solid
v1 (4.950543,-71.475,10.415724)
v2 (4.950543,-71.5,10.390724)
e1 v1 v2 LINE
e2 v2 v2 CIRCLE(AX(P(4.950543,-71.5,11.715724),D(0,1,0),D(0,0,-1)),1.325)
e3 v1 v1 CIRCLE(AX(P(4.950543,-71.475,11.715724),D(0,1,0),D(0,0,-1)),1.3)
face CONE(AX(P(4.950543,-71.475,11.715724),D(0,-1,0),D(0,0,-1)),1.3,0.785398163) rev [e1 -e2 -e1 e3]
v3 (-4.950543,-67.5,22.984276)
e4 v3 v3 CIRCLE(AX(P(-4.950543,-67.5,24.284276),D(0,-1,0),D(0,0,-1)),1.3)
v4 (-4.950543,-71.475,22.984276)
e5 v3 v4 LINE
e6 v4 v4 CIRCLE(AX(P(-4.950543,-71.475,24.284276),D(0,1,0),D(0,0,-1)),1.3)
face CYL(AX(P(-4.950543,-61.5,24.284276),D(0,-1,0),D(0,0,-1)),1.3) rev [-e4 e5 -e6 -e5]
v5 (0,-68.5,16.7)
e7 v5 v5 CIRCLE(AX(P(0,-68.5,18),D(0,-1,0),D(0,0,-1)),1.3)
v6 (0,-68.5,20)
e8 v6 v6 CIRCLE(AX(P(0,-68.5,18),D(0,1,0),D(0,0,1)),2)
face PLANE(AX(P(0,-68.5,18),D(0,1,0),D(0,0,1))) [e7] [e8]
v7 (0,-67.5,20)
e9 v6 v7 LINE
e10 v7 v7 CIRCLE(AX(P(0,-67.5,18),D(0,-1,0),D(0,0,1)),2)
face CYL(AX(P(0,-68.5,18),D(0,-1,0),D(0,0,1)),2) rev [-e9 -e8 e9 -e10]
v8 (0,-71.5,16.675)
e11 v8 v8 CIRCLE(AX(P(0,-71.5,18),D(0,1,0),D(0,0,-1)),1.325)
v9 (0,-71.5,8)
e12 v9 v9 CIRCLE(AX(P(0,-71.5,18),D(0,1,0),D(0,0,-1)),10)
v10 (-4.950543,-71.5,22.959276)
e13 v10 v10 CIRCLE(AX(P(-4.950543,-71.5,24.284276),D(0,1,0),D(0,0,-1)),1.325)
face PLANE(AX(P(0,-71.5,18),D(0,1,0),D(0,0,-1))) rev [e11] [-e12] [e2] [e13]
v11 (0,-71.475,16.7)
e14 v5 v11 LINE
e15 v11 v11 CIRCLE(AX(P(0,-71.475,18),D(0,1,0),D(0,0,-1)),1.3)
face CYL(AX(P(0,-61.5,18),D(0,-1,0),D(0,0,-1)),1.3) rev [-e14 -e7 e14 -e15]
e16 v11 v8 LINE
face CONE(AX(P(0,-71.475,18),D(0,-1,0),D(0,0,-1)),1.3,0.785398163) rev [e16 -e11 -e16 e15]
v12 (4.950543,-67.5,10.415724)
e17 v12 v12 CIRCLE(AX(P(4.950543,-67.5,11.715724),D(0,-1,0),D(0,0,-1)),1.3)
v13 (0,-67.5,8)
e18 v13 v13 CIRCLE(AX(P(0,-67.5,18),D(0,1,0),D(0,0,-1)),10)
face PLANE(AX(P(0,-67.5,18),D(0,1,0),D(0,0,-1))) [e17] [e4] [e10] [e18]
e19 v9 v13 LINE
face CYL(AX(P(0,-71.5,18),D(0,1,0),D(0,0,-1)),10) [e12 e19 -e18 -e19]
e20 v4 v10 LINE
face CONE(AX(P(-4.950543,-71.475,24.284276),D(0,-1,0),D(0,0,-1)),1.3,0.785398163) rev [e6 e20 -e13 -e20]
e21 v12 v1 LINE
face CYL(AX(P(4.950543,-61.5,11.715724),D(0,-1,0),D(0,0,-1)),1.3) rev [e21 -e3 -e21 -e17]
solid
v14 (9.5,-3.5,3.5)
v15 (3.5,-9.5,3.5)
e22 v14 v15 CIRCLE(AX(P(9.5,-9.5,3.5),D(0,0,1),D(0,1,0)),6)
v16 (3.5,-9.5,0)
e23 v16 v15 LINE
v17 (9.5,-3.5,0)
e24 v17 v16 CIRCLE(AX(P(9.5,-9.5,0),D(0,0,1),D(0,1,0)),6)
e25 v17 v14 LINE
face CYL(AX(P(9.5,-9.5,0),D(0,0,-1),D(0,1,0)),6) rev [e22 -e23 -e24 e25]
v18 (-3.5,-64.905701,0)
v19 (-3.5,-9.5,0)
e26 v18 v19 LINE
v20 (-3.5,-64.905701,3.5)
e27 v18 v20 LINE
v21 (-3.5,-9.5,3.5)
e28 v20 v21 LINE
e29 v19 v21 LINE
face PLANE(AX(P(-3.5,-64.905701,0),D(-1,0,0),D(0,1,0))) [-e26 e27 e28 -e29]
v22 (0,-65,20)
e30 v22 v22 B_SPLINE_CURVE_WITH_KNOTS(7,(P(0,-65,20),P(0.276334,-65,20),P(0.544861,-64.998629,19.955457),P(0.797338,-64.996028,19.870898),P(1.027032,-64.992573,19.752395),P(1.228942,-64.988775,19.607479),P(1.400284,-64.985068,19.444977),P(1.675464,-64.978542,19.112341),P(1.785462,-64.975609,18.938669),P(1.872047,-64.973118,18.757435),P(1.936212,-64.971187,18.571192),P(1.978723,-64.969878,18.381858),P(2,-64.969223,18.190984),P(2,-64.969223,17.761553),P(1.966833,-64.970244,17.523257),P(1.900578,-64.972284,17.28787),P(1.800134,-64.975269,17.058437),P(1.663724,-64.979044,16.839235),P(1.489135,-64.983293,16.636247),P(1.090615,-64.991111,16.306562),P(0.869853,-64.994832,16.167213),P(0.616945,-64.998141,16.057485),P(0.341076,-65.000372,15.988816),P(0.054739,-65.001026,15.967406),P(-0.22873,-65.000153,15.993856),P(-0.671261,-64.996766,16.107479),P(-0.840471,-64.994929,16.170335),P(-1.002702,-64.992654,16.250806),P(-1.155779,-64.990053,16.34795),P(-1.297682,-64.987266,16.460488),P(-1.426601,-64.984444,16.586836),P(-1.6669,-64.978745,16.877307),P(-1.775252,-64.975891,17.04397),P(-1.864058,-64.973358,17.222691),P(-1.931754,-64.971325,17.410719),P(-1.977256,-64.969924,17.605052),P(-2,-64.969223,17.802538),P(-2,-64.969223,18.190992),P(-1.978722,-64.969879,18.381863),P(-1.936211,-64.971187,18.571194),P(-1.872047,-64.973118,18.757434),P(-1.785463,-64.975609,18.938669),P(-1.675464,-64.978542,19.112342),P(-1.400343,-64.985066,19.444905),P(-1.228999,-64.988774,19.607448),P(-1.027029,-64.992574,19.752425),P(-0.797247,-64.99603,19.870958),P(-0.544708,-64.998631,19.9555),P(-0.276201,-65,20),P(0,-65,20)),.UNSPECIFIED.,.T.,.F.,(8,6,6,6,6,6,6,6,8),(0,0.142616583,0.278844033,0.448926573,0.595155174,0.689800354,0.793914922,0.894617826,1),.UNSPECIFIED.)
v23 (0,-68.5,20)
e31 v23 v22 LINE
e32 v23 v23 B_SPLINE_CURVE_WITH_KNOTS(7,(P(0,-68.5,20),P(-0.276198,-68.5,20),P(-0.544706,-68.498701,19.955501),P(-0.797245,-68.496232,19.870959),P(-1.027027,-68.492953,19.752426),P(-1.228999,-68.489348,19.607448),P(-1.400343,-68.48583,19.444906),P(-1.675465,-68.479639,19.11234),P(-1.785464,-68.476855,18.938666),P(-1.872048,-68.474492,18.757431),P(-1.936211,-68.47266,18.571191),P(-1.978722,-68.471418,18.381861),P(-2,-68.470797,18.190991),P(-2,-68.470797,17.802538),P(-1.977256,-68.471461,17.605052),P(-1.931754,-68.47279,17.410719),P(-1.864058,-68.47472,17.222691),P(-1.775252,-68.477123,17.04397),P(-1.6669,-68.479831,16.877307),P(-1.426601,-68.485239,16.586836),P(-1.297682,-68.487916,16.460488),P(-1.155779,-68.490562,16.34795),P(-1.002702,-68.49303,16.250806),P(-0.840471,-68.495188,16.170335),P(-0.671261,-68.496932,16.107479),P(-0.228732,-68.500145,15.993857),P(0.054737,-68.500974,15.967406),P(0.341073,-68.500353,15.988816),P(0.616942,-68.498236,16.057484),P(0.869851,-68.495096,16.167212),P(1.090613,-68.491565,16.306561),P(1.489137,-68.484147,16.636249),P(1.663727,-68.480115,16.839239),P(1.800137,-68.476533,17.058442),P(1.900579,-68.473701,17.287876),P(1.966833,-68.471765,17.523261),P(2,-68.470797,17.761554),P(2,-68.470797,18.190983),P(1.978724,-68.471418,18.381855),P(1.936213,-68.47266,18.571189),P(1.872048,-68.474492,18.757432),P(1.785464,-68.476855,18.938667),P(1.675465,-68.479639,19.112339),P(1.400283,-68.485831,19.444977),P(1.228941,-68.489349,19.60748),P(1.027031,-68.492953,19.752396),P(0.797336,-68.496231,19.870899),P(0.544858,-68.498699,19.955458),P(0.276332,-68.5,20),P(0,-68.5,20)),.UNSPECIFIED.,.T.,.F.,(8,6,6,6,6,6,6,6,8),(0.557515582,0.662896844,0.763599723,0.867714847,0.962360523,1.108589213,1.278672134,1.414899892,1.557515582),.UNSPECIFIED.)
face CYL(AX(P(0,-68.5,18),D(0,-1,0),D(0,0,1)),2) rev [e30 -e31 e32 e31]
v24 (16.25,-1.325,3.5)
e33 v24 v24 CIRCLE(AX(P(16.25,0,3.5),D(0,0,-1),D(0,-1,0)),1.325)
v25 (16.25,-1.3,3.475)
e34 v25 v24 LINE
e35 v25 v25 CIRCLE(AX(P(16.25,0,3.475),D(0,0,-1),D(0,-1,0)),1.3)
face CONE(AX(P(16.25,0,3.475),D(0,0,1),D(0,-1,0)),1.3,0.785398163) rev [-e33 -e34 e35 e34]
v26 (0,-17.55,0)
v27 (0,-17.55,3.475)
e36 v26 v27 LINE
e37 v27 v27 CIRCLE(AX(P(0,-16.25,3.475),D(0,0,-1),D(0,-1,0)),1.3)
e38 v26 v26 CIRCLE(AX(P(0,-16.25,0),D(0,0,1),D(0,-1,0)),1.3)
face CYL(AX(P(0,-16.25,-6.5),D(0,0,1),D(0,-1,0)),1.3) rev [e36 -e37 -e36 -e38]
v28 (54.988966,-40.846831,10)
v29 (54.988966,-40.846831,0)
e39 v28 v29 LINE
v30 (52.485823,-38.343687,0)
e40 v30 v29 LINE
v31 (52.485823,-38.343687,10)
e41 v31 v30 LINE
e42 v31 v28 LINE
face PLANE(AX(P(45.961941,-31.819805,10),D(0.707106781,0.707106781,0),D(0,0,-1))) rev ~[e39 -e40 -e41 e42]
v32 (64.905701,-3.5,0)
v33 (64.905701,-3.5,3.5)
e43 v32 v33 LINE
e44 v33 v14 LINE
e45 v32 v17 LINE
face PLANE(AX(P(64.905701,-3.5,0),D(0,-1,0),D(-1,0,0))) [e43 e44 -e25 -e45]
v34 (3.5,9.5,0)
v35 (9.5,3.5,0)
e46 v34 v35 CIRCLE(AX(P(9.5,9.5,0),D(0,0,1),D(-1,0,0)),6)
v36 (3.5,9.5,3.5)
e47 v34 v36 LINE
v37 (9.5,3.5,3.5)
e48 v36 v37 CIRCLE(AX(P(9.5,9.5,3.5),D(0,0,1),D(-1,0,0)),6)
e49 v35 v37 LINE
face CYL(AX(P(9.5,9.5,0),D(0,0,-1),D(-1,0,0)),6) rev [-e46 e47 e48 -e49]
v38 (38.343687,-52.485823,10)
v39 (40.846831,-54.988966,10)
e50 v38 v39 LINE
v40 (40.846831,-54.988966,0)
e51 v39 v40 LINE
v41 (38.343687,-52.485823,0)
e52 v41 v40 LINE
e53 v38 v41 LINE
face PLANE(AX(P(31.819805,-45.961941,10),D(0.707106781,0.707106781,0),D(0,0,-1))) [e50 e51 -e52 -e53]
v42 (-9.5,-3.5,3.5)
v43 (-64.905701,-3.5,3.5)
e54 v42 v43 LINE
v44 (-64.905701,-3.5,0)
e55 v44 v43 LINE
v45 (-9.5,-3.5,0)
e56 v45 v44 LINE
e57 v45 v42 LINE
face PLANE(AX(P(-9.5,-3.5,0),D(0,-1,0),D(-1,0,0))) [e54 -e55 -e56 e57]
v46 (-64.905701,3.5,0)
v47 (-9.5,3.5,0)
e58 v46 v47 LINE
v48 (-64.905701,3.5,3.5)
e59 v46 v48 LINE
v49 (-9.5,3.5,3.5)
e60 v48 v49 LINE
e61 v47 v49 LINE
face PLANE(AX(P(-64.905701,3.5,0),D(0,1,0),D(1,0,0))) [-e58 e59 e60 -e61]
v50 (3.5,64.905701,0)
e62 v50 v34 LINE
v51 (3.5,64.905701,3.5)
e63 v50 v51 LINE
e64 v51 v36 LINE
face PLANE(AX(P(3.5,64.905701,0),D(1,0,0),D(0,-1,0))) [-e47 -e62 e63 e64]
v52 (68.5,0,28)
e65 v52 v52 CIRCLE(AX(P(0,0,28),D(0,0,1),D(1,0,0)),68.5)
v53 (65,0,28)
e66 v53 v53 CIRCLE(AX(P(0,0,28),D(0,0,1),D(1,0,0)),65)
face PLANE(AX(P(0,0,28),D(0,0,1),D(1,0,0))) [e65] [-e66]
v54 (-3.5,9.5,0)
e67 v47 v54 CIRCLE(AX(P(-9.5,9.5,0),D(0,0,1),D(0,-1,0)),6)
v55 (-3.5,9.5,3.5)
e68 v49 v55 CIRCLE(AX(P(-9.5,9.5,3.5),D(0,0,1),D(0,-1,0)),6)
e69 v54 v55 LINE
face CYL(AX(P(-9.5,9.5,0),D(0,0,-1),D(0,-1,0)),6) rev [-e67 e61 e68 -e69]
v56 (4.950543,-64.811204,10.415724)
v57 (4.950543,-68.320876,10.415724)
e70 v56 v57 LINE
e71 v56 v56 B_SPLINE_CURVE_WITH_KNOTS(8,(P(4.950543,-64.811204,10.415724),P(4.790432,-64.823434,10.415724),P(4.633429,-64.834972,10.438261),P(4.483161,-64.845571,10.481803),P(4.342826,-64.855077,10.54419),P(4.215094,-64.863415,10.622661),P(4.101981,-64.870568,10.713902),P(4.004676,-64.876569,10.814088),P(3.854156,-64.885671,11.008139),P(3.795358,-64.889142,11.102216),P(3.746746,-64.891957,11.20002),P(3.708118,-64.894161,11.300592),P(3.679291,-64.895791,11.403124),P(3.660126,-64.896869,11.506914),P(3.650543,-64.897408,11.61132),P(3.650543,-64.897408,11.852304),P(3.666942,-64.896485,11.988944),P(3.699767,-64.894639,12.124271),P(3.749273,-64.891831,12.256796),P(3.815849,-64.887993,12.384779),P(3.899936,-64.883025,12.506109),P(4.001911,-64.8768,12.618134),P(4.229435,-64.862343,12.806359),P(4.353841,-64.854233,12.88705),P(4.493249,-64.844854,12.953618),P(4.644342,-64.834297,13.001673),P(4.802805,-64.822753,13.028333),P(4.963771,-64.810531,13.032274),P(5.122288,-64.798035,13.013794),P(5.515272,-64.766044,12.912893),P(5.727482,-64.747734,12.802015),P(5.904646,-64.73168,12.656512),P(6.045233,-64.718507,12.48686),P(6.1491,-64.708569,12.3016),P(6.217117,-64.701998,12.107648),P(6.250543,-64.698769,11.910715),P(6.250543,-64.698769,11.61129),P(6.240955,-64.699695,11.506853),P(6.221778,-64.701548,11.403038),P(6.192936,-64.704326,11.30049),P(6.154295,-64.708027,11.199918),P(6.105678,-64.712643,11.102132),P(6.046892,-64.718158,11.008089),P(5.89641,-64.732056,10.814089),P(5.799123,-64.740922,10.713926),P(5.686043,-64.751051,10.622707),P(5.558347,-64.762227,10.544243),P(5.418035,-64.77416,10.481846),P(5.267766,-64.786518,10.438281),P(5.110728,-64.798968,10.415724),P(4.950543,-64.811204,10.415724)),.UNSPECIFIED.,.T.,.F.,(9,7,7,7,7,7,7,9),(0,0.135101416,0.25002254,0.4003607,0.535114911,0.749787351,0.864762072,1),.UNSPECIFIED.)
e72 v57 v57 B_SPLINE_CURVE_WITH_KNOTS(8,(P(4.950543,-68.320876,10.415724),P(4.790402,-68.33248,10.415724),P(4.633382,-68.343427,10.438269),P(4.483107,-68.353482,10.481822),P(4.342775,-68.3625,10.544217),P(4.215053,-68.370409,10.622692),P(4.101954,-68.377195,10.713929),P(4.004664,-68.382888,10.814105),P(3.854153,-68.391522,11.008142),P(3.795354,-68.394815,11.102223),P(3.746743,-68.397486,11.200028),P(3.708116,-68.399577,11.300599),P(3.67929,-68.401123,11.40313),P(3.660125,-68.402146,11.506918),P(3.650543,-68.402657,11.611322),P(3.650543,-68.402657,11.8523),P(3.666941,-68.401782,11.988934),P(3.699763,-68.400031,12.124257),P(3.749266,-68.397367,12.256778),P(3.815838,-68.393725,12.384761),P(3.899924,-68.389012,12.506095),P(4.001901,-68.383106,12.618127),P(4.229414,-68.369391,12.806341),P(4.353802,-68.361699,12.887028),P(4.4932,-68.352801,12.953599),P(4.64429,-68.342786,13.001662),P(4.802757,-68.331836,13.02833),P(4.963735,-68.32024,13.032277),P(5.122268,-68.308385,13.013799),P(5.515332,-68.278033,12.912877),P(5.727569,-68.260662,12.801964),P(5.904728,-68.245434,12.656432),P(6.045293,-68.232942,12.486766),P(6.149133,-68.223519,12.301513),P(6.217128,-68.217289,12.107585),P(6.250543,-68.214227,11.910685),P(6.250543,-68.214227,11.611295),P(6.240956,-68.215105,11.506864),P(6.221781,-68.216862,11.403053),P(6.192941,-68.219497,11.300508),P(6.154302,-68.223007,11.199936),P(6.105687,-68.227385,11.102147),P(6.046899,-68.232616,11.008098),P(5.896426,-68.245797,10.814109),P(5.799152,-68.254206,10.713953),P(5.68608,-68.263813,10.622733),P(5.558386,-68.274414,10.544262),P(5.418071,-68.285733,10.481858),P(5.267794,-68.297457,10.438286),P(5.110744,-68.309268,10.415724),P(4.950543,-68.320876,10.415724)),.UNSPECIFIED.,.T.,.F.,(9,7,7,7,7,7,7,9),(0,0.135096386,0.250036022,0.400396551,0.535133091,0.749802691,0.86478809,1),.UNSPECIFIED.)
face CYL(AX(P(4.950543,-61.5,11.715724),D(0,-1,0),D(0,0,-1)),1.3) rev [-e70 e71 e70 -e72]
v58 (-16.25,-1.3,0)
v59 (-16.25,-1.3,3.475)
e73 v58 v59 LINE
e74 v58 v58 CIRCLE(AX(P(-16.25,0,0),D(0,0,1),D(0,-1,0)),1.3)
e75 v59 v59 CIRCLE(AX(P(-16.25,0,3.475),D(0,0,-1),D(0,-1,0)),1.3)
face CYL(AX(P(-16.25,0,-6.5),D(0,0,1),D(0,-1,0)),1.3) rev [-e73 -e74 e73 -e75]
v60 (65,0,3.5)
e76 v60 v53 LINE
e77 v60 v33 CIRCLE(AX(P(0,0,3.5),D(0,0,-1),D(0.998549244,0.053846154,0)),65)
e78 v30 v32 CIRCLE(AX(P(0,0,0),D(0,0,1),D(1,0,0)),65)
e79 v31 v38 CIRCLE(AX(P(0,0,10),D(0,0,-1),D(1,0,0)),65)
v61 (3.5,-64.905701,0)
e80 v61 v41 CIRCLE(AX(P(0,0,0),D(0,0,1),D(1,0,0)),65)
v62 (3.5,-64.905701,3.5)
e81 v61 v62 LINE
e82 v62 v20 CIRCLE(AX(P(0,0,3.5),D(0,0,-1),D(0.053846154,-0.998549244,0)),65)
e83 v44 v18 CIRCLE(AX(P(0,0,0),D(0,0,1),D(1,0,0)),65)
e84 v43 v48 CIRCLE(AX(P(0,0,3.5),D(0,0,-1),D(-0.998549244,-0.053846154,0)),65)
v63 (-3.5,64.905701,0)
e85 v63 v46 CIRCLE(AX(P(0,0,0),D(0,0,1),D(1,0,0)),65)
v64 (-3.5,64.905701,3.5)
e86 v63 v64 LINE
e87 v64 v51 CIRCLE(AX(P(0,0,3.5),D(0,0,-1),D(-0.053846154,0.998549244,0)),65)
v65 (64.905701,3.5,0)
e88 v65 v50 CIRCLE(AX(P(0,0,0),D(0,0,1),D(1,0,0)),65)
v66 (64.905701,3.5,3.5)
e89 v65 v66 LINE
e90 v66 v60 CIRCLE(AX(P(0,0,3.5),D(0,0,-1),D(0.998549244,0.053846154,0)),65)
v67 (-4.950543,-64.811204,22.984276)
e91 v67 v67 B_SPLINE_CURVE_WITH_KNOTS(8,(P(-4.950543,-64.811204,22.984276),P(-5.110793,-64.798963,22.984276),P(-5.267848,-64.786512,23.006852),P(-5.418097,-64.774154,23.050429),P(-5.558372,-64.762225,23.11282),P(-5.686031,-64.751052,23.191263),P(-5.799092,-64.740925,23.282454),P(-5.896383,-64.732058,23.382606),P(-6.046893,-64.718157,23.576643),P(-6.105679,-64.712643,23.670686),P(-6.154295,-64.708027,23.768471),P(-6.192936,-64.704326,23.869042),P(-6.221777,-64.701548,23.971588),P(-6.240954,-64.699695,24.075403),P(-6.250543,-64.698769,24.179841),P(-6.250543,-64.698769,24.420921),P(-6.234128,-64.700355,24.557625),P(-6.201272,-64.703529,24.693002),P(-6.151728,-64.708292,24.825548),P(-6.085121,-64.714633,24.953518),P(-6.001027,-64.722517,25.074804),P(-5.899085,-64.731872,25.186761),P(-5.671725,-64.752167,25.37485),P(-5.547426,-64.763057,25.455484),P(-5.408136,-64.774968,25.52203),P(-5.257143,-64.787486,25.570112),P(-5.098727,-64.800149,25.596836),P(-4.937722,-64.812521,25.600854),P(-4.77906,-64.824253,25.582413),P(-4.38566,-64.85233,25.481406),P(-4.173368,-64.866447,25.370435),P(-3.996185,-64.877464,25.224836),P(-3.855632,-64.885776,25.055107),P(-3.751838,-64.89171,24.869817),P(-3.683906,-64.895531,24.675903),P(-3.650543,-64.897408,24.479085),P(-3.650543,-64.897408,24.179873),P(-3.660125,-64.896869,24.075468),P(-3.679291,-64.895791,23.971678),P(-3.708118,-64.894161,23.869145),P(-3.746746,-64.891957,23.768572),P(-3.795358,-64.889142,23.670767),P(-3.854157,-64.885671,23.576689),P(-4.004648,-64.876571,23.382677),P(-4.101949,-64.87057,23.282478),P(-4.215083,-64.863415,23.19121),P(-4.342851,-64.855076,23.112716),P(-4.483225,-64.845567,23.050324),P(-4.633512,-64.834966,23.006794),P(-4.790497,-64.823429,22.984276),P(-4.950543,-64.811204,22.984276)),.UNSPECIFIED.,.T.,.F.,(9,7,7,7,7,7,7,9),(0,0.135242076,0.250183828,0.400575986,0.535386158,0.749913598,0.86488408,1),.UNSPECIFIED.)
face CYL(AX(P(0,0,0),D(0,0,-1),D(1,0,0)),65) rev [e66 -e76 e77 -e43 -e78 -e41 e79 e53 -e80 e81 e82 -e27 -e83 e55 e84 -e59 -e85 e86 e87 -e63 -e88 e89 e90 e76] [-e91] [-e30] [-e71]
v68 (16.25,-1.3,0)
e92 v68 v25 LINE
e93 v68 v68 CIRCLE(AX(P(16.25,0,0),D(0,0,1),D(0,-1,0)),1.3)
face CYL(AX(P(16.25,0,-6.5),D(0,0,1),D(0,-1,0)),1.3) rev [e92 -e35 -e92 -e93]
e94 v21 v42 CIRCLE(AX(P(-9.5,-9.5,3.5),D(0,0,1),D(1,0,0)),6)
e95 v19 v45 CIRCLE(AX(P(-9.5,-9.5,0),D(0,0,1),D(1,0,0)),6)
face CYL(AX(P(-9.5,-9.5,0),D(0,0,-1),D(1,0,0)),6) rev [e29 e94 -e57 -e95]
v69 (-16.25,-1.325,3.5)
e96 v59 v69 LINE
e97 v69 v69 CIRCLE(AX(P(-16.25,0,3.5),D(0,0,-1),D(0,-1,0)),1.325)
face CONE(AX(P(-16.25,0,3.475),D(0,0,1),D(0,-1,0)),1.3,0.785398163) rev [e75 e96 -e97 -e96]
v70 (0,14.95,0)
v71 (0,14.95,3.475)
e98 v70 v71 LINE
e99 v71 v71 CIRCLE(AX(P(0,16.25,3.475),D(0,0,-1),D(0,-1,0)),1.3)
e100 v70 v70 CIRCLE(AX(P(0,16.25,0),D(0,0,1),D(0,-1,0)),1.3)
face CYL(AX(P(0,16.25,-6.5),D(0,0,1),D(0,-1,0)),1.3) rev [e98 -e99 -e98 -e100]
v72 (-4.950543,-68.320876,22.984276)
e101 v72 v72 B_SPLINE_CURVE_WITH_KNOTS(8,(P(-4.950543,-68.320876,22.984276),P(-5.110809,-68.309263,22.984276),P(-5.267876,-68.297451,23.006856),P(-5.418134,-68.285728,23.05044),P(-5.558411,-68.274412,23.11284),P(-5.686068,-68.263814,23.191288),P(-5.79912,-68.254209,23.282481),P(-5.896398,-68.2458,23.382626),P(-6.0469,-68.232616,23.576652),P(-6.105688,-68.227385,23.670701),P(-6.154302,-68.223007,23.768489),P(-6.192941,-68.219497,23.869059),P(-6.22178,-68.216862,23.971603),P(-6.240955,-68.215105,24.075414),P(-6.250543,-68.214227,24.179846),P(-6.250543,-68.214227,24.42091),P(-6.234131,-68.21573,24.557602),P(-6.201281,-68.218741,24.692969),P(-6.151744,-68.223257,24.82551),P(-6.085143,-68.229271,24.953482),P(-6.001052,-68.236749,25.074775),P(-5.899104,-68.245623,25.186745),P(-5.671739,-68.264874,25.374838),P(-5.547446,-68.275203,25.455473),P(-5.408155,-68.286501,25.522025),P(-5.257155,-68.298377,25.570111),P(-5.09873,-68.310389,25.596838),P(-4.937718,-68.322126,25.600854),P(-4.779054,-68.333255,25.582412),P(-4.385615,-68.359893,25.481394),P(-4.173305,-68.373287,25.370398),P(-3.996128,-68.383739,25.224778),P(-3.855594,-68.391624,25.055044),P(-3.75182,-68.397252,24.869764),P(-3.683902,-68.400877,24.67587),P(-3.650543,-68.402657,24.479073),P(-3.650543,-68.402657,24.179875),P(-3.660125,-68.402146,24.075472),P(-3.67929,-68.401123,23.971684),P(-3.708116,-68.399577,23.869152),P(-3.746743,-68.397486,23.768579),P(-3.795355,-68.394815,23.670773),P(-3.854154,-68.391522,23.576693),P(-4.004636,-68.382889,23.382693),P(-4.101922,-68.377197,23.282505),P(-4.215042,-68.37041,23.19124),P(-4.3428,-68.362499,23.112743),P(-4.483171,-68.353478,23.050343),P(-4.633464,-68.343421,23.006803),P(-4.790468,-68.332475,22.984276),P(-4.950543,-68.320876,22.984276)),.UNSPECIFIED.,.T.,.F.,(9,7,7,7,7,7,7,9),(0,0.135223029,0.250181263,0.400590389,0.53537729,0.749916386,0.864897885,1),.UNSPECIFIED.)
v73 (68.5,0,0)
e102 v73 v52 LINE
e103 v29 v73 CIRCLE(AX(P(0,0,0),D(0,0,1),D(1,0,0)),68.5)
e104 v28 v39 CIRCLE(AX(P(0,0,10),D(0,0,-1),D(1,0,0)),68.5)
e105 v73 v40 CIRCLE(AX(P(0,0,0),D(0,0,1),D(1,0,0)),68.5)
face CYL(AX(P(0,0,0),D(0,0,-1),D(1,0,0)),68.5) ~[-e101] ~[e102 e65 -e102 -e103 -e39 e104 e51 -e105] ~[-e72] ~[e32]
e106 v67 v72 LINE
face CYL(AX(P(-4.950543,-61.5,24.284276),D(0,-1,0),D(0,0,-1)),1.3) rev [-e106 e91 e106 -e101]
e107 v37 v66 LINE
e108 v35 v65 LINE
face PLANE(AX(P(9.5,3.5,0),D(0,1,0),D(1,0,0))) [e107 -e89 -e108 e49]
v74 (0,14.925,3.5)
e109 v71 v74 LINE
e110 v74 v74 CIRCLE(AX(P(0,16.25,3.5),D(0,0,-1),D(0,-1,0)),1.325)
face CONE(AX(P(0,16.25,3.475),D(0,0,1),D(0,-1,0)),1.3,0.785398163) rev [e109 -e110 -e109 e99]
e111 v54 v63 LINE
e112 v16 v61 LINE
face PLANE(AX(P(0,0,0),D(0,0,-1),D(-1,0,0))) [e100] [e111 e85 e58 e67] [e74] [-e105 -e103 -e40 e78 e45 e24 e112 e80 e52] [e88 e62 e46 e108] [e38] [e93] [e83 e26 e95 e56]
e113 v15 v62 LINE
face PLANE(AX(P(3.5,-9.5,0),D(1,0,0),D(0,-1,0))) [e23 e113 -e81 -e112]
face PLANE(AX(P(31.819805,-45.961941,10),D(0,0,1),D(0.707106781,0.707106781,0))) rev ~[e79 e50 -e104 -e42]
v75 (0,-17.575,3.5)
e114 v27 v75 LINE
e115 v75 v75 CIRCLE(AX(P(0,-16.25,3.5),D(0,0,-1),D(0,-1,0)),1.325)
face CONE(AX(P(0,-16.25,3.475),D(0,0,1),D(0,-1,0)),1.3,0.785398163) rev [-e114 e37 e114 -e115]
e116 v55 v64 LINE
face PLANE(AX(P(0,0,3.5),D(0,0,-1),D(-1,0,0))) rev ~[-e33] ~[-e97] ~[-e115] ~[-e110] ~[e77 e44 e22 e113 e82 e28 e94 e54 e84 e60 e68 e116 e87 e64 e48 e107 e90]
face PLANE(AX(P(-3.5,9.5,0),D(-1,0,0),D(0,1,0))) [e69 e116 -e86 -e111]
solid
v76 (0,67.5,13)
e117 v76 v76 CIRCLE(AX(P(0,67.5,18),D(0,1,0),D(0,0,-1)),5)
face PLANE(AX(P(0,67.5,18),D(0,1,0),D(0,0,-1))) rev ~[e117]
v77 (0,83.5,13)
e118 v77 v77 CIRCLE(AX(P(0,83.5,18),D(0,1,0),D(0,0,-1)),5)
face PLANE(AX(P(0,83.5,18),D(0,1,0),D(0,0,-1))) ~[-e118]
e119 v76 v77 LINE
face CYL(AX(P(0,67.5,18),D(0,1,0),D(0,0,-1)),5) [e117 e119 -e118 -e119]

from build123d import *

# Parameters (mm, degrees)
ESQUISSE1_R                  = 68.5
ESQUISSE1_R_2                = 65
BOSS_EXTRU_1_DEPTH           = 28
BOSS_EXTRU_2_DEPTH           = 3.5
ESQUISSE3_W                  = 10
ESQUISSE3_H                  = 4
ESQUISSE3_W_2                = 5
ESQUISSE3_H_2                = 16
D_GAGEMENT_M21_AT_2_COUNT    = 2
D_GAGEMENT_M21_AT_2_PITCH    = 16
ENL_V_MAT_EXTRU_2_DEPTH      = 10
ENL_V_MAT_EXTRU_2_DEPTH_BACK = 3.5
ESQUISSE8_R                  = 2
ENL_V_MAT_EXTRU_4_DEPTH      = 13.5
ENL_V_MAT_EXTRU_4_DEPTH_BACK = 13.5
ESQUISSE9_W                  = 20
ESQUISSE9_H                  = 20
D_GAGEMENT_M23_AT_2_COUNT    = 2
D_GAGEMENT_M23_AT_2_PITCH    = 22.980970389
D_GAGEMENT_M23_AT_3_COUNT    = 2
D_GAGEMENT_M23_AT_3_PITCH    = 32.5
D_GAGEMENT_M23_AT_4_COUNT    = 2
D_GAGEMENT_M23_AT_4_PITCH    = 22.980970389


with BuildPart() as part:
    # Esquisse1 → Boss.-Extru.1 (new body)
    with BuildSketch(Plane.XY):
        Circle(ESQUISSE1_R)
        Circle(ESQUISSE1_R_2, mode=Mode.SUBTRACT)
    extrude(amount=BOSS_EXTRU_1_DEPTH)

    # Esquisse2 → Boss.-Extru.2 (add)
    with BuildSketch(Plane(origin=(0, 0, 0), x_dir=(-1, 0, 0), z_dir=(0, 0, -1))):
        with BuildLine():
            Line((-3.5, 64.905700828), (-3.5, 9.5))
            ThreePointArc((-3.5, 9.5), (-5.257359313, 5.257359313), (-9.5, 3.5))
            Line((-9.5, 3.5), (-64.905700828, 3.5))
            ThreePointArc((-64.905700828, 3.5), (-65, 0), (-64.905700828, -3.5))
            Line((-64.905700828, -3.5), (-9.5, -3.5))
            ThreePointArc((-9.5, -3.5), (-5.257359313, -5.257359313), (-3.5, -9.5))
            Line((-3.5, -9.5), (-3.5, -64.905700828))
            ThreePointArc((-3.5, -64.905700828), (0, -65), (3.5, -64.905700828))
            Line((3.5, -64.905700828), (3.5, -9.5))
            ThreePointArc((3.5, -9.5), (5.257359313, -5.257359313), (9.5, -3.5))
            Line((9.5, -3.5), (64.905700828, -3.5))
            ThreePointArc((64.905700828, -3.5), (65, 0), (64.905700828, 3.5))
            Line((64.905700828, 3.5), (9.5, 3.5))
            ThreePointArc((9.5, 3.5), (5.257359313, 5.257359313), (3.5, 9.5))
            Line((3.5, 9.5), (3.5, 64.905700828))
            ThreePointArc((3.5, 64.905700828), (0, 65), (-3.5, 64.905700828))
        make_face()
    extrude(amount=-BOSS_EXTRU_2_DEPTH)


with BuildPart() as body_2:
    # Esquisse3 → Révolution1 (revolve)
    with BuildSketch(Plane(origin=(0, 0, 0), x_dir=(0, 0, -1), z_dir=(1, 0, 0))):
        with Locations((-13, -69.5)):
            Rectangle(ESQUISSE3_W, ESQUISSE3_H)
        with Locations((-15.5, 75.5)):
            Rectangle(ESQUISSE3_W_2, ESQUISSE3_H_2)
    revolve(axis=Axis((0, -71.5, 18), (0, 1, 0)))


with BuildPart() as d_gagement_m21_tool:
    # Esquisse5 → Dégagement M21 (revolve)
    with BuildSketch(Plane(origin=(4.950542853, -71.5, 11.715723951), x_dir=(0, 0, -1), z_dir=(1, 0, 0))):
        Polygon((0, 0), (0, 10.781118805), (1.3, 10), (1.3, 0.025), (1.325, 0), align=None)
    d_gagement_m21 = revolve(axis=Axis((4.950542853, -77.85, 11.715723951), (0, 1, 0)))


with BuildPart() as part_1:
    add(part.part)

    # Dégagement M21: cut by d_gagement_m21_tool
    add(d_gagement_m21_tool.part, mode=Mode.SUBTRACT)


with BuildPart() as body_2_1:
    add(body_2.part)

    # Dégagement M21: cut by d_gagement_m21_tool
    add(d_gagement_m21_tool.part, mode=Mode.SUBTRACT)


with BuildPart() as d_gagement_m21_at_2_tool:
    # Dégagement M21 at 2: Dégagement M21 ×2
    with Locations(*[Vector(-0.6188178566872944, 0, 0.785534506081651) * (i * D_GAGEMENT_M21_AT_2_PITCH) for i in range(1, D_GAGEMENT_M21_AT_2_COUNT)]):
        add(d_gagement_m21)


with BuildPart() as part_2:
    add(part_1.part)

    # Dégagement M21 at 2: cut by d_gagement_m21_at_2_tool
    add(d_gagement_m21_at_2_tool.part, mode=Mode.SUBTRACT)


with BuildPart() as body_2_2:
    add(body_2_1.part)

    # Dégagement M21 at 2: cut by d_gagement_m21_at_2_tool
    add(d_gagement_m21_at_2_tool.part, mode=Mode.SUBTRACT)


with BuildPart() as d_gagement_m22_tool:
    # Esquisse7 → Dégagement M22 (revolve)
    with BuildSketch(Plane(origin=(0, -71.5, 18), x_dir=(0, 0, -1), z_dir=(1, 0, 0))):
        Polygon((0, 0), (0, 10.781118805), (1.3, 10), (1.3, 0.025), (1.325, 0), align=None)
    revolve(axis=Axis((0, -77.85, 18), (0, 1, 0)))


with BuildPart() as part_3:
    add(part_2.part)

    # Dégagement M22: cut by d_gagement_m22_tool
    add(d_gagement_m22_tool.part, mode=Mode.SUBTRACT)


with BuildPart() as body_2_3:
    add(body_2_2.part)

    # Dégagement M22: cut by d_gagement_m22_tool
    add(d_gagement_m22_tool.part, mode=Mode.SUBTRACT)


with BuildPart() as enl_v_mat_extru_2_tool:
    # Esquisse8 → Enlèv. mat.-Extru.2 (new, two sides: drawn at the far end of the back side and taken through both)
    with BuildSketch(Plane(origin=(0, -65, 0), x_dir=(1, 0, 0), z_dir=(0, 1, 0)).offset(-ENL_V_MAT_EXTRU_2_DEPTH_BACK)):
        with Locations((0, -18)):
            Circle(ESQUISSE8_R)
    extrude(amount=ENL_V_MAT_EXTRU_2_DEPTH + ENL_V_MAT_EXTRU_2_DEPTH_BACK)


with BuildPart() as part_4:
    add(part_3.part)

    # Enlèv. mat.-Extru.2: cut by enl_v_mat_extru_2_tool
    add(enl_v_mat_extru_2_tool.part, mode=Mode.SUBTRACT)

    # Esquisse9 → Enlèv. mat.-Extru.4 (cut, two sides: drawn at the far end of the back side and taken through both)
    with BuildSketch(Plane(origin=(48.436814511, -48.436814511, 0), x_dir=(0, 0, -1), z_dir=(0.7071067811865511, -0.7071067811865439, 0)).offset(-ENL_V_MAT_EXTRU_4_DEPTH_BACK)):
        Rectangle(ESQUISSE9_W, ESQUISSE9_H)
    extrude(amount=ENL_V_MAT_EXTRU_4_DEPTH + ENL_V_MAT_EXTRU_4_DEPTH_BACK, mode=Mode.SUBTRACT)

    # Esquisse11 → Dégagement M23 (revolve, cut)
    with BuildSketch(Plane(origin=(-16.25, 0, 3.5), x_dir=(0, -1, 0), z_dir=(1, 0, 0))):
        Polygon((0, 0), (0, 10.781118805), (1.3, 10), (1.3, 0.025), (1.325, 0), align=None)
    d_gagement_m23 = revolve(axis=Axis((-16.25, 0, 9.85), (0, 0, -1)), mode=Mode.SUBTRACT)

    # Dégagement M23 at 2: Dégagement M23 ×2
    with Locations(*[Vector(0.7071067811865469, 0.7071067811865482, 0) * (i * D_GAGEMENT_M23_AT_2_PITCH) for i in range(1, D_GAGEMENT_M23_AT_2_COUNT)]):
        add(d_gagement_m23, mode=Mode.SUBTRACT)

    # Dégagement M23 at 3: Dégagement M23 ×2
    with Locations(*[(i * D_GAGEMENT_M23_AT_3_PITCH, 0, 0) for i in range(1, D_GAGEMENT_M23_AT_3_COUNT)]):
        add(d_gagement_m23, mode=Mode.SUBTRACT)

    # Dégagement M23 at 4: Dégagement M23 ×2
    with Locations(*[Vector(0.7071067811865505, -0.7071067811865446, 0) * (i * D_GAGEMENT_M23_AT_4_PITCH) for i in range(1, D_GAGEMENT_M23_AT_4_COUNT)]):
        add(d_gagement_m23, mode=Mode.SUBTRACT)


with BuildPart() as body_2_4:
    add(body_2_3.part)

    # Enlèv. mat.-Extru.2: cut by enl_v_mat_extru_2_tool
    add(enl_v_mat_extru_2_tool.part, mode=Mode.SUBTRACT)


solid = Compound([part_4.part, body_2_4.part])
